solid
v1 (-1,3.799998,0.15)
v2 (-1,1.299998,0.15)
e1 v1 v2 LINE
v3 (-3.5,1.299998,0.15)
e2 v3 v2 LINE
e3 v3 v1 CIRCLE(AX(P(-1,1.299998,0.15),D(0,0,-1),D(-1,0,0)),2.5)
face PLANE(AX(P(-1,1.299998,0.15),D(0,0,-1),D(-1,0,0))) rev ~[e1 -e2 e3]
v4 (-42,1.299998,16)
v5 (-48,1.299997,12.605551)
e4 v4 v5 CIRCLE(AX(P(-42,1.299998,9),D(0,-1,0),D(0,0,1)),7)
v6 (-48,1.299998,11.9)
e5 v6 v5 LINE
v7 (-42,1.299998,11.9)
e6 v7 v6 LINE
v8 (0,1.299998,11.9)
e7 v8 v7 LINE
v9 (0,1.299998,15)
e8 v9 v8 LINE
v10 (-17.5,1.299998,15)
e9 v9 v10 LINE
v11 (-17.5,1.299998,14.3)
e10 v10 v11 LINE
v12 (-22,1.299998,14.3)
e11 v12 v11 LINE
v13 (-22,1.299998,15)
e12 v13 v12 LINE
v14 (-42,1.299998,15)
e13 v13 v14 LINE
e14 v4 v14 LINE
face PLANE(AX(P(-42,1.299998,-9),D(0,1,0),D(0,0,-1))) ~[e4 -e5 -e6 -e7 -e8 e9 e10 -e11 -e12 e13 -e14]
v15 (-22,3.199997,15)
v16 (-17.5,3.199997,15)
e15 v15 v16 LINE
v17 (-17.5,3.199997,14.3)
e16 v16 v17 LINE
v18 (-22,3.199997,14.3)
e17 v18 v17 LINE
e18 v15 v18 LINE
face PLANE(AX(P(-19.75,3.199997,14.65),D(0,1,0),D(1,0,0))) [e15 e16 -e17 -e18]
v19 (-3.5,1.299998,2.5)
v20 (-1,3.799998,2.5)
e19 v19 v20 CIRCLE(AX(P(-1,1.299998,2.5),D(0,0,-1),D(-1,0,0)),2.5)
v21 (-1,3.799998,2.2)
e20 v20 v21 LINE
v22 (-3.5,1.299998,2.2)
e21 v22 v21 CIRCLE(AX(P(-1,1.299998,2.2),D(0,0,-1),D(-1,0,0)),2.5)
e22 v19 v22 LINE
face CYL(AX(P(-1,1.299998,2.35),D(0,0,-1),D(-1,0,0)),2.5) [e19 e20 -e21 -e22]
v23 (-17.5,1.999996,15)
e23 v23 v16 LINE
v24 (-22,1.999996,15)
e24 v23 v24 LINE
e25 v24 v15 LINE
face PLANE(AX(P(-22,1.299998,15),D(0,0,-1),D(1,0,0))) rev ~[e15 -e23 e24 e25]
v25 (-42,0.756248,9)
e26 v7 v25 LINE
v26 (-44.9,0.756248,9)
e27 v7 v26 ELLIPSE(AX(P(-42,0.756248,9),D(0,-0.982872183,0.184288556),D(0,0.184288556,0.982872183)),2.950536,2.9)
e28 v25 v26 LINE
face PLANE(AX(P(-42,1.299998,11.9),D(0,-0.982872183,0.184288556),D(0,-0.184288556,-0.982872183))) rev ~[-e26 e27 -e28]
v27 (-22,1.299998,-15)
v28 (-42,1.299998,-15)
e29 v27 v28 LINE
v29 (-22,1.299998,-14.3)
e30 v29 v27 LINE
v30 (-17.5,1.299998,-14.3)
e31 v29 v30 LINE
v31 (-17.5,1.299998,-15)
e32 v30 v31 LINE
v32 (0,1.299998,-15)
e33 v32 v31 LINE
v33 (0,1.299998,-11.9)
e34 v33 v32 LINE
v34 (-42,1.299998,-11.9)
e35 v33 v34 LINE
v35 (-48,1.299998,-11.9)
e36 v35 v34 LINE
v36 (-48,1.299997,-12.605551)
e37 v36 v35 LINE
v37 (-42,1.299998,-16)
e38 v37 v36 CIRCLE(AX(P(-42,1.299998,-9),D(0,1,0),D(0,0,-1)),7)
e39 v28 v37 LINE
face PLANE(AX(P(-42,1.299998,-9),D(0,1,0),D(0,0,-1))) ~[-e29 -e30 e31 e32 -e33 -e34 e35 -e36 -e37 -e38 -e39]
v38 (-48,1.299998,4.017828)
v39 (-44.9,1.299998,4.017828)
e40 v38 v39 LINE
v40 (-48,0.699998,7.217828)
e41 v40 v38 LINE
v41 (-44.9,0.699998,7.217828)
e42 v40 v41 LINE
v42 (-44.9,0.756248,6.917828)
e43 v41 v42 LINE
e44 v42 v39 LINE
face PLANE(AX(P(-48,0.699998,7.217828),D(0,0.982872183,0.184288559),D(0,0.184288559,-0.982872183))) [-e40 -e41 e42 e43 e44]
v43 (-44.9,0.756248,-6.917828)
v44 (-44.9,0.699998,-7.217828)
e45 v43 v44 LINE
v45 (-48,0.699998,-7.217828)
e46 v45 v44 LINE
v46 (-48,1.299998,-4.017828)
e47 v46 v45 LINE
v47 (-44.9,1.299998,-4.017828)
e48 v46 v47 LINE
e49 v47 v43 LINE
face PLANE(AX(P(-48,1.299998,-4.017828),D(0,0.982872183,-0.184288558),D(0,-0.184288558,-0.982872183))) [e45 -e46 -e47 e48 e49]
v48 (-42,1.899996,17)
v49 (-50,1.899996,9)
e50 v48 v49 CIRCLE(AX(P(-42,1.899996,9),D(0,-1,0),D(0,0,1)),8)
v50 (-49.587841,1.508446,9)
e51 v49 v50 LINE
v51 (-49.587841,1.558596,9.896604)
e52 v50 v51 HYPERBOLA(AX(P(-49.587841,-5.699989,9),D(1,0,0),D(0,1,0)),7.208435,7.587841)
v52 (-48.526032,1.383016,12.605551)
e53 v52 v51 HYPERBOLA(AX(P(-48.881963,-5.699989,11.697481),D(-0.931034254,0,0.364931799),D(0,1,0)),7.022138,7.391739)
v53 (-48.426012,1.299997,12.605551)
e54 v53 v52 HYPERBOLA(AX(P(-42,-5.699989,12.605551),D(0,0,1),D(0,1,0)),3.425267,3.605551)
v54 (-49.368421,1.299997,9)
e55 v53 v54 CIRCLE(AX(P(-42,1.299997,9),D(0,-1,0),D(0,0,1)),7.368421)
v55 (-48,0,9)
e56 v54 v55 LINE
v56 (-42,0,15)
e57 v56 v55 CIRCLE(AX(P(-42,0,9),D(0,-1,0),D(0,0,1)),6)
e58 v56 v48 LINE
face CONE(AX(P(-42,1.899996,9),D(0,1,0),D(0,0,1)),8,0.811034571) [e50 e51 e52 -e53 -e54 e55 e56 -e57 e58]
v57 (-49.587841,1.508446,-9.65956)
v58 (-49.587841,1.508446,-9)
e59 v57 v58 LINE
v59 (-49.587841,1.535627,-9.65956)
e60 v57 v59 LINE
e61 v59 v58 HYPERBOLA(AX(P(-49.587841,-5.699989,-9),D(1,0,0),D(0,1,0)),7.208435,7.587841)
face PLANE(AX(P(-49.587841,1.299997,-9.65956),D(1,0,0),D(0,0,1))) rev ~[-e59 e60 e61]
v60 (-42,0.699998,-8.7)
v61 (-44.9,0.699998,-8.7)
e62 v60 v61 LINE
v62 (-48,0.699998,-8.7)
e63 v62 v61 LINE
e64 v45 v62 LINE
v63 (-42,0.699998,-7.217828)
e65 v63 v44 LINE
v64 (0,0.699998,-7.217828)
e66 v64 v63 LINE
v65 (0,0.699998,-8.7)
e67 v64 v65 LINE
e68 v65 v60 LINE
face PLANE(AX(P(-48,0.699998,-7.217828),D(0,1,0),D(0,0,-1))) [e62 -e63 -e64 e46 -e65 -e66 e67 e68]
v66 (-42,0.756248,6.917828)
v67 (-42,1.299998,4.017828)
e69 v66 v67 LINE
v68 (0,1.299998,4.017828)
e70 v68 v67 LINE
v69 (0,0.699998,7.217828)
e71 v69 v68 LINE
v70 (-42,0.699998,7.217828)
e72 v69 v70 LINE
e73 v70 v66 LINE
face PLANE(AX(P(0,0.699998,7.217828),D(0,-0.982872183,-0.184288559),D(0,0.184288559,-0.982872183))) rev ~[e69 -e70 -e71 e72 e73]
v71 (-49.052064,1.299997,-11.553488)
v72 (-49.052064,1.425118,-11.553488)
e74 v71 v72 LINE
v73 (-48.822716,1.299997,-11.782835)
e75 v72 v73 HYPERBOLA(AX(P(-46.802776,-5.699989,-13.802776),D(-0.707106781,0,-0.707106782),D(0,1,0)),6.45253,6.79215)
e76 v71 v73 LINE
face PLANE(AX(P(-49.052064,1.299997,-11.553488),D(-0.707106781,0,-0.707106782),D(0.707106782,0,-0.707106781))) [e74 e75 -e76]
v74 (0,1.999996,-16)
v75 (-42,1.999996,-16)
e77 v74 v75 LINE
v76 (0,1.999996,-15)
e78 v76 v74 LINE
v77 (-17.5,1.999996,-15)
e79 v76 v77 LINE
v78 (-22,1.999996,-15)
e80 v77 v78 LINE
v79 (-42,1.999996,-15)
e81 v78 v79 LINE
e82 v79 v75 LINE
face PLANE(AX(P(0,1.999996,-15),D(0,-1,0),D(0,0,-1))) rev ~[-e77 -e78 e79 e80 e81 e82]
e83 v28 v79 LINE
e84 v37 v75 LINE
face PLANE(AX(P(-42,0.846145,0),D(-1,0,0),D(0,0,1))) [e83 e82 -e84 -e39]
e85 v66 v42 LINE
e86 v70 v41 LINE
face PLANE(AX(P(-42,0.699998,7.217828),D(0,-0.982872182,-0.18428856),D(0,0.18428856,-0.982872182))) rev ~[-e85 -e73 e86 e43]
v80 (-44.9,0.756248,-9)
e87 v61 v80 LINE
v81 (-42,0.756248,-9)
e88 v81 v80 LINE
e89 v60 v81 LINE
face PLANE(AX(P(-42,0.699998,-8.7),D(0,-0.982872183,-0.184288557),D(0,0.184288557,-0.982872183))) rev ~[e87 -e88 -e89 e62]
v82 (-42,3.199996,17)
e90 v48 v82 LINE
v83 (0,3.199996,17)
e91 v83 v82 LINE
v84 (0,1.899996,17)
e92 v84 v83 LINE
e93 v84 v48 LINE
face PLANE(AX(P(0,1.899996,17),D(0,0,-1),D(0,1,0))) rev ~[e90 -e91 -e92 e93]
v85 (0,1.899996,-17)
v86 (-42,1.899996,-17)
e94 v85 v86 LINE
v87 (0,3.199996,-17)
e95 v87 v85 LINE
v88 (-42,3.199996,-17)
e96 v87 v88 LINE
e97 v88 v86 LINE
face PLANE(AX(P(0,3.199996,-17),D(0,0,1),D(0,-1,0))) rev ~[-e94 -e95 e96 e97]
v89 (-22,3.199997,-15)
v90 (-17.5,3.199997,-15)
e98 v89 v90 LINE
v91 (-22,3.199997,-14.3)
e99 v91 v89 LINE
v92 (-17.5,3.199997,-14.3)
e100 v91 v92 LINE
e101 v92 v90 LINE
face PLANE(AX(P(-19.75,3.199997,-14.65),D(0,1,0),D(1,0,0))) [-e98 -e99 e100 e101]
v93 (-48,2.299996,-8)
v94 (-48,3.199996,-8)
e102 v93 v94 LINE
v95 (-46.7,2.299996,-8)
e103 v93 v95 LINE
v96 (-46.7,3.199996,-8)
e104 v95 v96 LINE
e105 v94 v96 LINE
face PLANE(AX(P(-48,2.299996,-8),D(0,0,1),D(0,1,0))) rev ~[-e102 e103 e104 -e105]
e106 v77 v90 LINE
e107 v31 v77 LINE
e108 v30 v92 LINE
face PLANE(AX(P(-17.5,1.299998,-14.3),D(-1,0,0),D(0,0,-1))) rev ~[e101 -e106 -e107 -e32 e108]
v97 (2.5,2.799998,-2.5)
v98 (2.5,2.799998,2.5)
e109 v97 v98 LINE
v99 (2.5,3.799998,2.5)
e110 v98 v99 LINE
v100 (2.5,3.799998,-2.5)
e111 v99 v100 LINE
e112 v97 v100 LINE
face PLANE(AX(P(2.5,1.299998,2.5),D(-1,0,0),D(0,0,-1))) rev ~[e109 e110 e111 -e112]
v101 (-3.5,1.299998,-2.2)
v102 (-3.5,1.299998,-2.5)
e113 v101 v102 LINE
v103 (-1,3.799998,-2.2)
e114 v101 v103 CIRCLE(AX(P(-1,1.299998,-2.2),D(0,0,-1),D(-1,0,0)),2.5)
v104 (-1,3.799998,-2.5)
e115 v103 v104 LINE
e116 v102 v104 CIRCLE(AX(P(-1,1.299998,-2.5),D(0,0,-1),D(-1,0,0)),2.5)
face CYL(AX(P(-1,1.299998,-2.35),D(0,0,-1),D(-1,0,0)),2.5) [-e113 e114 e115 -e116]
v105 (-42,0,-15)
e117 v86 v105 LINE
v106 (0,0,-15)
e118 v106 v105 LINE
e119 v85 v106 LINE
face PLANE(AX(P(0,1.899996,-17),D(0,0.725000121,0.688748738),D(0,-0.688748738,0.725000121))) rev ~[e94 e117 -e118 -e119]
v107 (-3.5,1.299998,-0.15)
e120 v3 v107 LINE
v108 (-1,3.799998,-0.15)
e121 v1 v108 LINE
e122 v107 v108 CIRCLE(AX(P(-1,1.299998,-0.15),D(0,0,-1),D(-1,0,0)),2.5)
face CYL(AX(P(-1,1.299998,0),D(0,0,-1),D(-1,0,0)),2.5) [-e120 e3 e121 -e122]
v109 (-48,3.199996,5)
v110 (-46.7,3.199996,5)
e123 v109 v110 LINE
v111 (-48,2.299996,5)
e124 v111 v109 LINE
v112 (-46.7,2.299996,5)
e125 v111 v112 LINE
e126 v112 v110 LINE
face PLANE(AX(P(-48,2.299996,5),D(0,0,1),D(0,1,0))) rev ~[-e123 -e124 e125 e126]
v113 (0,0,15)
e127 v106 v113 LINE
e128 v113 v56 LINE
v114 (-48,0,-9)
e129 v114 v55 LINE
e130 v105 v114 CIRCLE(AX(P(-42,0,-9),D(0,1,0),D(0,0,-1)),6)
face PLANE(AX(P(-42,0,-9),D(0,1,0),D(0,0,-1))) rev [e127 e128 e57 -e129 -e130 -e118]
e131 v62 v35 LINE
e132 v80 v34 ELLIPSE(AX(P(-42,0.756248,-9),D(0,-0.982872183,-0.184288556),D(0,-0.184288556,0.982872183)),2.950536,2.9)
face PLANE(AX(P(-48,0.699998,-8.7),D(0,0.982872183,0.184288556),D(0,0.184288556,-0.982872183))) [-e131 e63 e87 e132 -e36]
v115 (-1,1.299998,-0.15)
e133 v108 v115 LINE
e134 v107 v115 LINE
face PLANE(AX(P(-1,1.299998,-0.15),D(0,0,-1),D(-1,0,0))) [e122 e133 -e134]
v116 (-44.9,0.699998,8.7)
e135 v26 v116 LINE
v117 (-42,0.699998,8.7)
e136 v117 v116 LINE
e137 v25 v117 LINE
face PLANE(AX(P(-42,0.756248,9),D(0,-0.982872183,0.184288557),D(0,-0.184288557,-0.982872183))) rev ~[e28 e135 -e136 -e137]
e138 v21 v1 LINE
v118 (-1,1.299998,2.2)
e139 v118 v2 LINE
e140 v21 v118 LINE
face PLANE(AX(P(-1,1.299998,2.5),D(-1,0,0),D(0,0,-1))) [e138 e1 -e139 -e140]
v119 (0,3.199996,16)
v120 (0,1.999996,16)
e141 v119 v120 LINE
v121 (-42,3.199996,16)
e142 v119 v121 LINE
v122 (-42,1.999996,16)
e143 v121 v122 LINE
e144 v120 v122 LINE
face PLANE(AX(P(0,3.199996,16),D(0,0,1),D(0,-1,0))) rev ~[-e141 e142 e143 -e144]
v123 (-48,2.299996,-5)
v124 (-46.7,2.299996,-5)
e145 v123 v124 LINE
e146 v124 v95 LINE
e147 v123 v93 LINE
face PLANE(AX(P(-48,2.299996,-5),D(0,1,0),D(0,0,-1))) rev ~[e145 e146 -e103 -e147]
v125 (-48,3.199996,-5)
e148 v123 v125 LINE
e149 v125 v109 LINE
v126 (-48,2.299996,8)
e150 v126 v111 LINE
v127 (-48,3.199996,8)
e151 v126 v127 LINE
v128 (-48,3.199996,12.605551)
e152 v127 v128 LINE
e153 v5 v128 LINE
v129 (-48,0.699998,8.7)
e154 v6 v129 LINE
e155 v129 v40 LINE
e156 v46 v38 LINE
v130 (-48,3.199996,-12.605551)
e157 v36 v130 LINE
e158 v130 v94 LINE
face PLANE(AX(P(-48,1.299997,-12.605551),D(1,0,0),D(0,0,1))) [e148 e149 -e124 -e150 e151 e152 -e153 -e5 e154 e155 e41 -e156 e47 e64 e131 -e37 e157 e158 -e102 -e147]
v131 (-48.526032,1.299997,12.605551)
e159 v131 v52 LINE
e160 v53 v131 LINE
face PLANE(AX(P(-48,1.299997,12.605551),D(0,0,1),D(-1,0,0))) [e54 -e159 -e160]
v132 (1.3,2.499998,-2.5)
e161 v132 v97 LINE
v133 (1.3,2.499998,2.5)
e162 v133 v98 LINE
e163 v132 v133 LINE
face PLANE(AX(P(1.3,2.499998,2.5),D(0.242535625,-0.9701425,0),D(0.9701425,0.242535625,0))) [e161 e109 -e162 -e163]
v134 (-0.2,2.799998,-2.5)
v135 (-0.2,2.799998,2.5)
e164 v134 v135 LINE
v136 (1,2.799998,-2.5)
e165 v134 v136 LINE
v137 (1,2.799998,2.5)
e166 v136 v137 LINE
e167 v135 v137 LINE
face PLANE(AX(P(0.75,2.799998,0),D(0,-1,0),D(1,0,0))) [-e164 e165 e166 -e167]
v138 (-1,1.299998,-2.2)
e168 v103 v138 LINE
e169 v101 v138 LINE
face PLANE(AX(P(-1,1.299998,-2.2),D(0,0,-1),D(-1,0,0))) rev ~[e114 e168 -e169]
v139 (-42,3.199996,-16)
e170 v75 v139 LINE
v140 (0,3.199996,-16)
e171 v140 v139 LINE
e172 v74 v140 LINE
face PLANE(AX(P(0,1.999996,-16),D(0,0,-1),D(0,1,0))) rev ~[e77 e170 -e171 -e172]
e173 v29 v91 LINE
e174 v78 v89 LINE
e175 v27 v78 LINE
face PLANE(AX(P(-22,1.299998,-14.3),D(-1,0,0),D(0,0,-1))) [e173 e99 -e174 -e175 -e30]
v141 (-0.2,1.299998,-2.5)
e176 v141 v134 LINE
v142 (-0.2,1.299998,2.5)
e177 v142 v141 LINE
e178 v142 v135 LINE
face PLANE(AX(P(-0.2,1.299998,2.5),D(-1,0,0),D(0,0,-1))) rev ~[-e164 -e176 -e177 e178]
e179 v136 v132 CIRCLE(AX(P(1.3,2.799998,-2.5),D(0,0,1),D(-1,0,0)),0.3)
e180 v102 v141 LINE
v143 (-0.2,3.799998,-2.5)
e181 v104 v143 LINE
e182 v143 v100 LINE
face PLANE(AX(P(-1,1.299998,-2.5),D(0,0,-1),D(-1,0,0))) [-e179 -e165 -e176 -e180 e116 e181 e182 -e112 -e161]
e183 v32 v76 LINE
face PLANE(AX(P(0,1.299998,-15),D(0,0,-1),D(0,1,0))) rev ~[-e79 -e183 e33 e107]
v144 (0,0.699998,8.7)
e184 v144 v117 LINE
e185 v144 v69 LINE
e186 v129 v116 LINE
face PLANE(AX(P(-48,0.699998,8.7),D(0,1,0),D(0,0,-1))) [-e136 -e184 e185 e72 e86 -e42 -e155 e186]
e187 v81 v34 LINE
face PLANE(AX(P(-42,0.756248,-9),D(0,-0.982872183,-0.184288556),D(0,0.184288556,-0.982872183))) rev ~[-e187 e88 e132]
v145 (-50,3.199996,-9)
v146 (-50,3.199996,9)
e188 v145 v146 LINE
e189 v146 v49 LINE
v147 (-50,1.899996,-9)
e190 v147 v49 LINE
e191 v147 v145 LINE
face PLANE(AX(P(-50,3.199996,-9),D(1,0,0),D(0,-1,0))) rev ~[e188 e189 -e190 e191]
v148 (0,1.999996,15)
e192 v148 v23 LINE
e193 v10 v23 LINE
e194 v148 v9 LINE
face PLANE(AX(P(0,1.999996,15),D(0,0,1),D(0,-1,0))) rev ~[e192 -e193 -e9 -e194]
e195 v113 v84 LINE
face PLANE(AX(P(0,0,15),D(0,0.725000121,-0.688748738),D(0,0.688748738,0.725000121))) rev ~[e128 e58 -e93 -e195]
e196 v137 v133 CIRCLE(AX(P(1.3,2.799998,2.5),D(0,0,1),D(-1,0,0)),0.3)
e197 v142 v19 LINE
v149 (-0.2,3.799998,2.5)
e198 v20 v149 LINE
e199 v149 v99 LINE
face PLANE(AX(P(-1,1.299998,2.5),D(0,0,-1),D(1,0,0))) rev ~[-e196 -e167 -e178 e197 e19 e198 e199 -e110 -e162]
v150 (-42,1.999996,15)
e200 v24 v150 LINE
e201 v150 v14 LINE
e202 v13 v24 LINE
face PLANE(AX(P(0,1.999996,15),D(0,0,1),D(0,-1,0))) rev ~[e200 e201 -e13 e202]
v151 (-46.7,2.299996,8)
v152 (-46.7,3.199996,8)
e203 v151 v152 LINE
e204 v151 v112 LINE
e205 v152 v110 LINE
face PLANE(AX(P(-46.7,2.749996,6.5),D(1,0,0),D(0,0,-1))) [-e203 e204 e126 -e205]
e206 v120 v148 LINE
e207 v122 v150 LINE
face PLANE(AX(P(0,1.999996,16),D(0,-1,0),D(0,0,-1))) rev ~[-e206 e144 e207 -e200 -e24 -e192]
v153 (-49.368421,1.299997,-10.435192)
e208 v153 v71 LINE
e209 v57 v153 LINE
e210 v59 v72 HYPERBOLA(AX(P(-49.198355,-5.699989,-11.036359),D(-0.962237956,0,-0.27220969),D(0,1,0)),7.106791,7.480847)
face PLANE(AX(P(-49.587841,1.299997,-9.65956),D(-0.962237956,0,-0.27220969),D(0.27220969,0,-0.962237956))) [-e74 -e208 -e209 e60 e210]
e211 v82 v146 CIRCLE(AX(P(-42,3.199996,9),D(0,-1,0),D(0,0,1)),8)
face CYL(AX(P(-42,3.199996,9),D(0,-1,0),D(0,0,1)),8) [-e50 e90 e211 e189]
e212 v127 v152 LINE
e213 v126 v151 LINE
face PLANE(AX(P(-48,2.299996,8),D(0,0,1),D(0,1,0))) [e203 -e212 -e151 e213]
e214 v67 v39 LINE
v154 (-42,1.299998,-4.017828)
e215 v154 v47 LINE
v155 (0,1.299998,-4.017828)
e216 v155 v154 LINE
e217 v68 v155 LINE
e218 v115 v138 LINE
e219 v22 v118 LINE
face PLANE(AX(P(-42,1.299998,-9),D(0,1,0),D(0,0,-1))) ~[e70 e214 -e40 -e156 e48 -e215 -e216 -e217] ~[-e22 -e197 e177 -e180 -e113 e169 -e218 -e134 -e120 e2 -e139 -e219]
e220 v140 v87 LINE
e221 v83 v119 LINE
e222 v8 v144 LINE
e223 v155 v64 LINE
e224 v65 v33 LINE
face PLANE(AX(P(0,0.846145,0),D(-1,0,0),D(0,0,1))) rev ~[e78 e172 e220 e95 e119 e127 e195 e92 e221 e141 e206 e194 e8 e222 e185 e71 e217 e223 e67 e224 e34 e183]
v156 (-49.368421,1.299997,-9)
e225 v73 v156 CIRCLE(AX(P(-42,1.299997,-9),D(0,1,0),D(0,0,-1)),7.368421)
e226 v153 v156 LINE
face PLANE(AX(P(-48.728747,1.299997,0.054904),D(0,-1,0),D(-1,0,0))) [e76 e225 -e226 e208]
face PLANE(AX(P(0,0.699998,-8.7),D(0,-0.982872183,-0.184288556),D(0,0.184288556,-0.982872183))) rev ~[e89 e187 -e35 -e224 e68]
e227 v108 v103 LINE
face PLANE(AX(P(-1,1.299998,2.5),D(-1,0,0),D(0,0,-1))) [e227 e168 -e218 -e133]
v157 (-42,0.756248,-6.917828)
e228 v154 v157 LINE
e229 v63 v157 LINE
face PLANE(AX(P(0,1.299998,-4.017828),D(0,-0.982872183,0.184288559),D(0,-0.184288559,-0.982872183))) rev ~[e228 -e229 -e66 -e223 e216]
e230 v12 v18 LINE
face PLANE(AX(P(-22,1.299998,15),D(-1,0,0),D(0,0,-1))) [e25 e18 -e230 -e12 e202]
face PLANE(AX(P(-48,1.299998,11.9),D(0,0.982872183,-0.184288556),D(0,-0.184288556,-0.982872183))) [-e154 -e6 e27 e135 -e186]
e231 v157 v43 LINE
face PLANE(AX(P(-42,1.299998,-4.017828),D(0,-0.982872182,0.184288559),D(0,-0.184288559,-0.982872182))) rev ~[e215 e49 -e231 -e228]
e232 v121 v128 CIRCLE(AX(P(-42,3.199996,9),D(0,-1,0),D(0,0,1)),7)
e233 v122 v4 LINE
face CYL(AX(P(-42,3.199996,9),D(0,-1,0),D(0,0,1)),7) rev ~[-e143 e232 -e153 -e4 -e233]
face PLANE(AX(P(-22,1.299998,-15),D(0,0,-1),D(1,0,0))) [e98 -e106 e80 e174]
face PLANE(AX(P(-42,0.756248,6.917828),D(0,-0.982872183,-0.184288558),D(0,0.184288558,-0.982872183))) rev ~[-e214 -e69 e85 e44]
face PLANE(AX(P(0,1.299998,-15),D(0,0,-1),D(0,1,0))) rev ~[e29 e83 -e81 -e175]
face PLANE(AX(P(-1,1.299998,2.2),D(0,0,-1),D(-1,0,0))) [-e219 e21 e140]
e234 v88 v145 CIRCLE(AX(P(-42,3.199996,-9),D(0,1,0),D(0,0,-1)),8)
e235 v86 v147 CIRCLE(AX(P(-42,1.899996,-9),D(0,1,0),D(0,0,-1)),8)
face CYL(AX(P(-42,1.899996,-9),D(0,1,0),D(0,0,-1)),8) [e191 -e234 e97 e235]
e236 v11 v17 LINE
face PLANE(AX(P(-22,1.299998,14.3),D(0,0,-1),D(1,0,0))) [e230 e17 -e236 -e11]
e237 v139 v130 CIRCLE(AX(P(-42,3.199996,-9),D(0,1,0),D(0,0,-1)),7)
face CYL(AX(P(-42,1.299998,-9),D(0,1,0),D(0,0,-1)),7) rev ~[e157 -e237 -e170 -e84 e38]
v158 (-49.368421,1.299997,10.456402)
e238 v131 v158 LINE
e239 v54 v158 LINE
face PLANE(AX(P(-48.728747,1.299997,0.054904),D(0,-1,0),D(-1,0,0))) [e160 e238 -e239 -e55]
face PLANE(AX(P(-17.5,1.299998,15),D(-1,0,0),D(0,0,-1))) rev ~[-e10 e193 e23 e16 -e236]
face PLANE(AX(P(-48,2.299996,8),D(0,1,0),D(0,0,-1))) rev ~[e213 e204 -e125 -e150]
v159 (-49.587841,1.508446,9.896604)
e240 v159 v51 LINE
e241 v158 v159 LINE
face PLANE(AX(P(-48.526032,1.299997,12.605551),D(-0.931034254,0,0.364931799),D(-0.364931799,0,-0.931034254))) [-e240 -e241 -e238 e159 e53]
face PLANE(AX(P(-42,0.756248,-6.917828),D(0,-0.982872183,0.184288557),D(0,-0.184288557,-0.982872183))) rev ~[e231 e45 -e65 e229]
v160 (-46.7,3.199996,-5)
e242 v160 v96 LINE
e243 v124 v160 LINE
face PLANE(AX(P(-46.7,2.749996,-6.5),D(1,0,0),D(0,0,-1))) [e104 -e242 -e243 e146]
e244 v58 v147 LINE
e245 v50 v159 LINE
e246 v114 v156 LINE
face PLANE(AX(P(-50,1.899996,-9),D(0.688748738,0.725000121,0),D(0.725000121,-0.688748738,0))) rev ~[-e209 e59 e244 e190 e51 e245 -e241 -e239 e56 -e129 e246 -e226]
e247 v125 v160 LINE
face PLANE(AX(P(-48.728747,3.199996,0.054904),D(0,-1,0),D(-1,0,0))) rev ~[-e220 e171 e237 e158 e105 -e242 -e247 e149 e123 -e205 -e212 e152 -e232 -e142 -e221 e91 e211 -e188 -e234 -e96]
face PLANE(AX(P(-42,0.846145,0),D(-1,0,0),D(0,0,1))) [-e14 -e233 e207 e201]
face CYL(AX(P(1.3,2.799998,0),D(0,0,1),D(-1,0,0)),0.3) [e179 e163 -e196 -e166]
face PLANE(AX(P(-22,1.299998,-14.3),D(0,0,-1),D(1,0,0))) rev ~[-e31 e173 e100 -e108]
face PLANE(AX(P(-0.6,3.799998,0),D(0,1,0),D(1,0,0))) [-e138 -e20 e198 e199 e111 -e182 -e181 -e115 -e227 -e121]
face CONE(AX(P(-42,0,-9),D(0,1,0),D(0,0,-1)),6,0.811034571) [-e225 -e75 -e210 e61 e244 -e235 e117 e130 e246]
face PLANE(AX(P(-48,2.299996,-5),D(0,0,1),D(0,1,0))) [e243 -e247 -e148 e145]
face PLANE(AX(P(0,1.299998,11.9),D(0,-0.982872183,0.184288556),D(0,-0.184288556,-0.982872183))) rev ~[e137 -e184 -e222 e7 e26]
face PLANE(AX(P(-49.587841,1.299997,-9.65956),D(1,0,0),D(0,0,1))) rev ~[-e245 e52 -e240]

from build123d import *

# Parameters (mm, degrees)
BOSS_EXTRUDE1_DEPTH     = 42
SKETCH3_W               = 4.5
SKETCH3_H               = 0.7
BOSS_EXTRUDE2_DEPTH     = 1.899999
SKETCH6_W               = 2.500000024
SKETCH6_H               = 0.3
REVOLVE1_ANGLE          = 90
SKETCH7_W               = 2.7
SKETCH7_H               = 5
BOSS_EXTRUDE3_DEPTH     = 2.50000008
SKETCH9_W               = 3.499999976
SKETCH9_H               = 5
CUT_EXTRUDE1_DEPTH      = 1.50000008
SKETCH10_W              = 0.3
SKETCH10_H              = 5
REVOLVE2_ANGLE          = 90
BOSS_EXTRUDE5_START     = -5
BOSS_EXTRUDE5_DEPTH     = 5
REVOLVE4_ANGLE          = 90
REVOLVE6_ANGLE          = 90
BOSS_EXTRUDE7_DEPTH     = 18
BOSS_EXTRUDE8_DEPTH     = 2.9
CUT_EXTRUDE2_DEPTH      = 2.9
BOSS_EXTRUDE9_START     = -1.899999
BOSS_EXTRUDE9_DEPTH     = 1.899999
SKETCH29_W              = 3
SKETCH29_H              = 0.9
BOSS_EXTRUDE10_DEPTH    = 1.3
CUT_EXTRUDE3_START      = -3.1
CUT_EXTRUDE3_DEPTH      = 3.1
CUT_EXTRUDE4_START      = -44.9
CUT_EXTRUDE4_DEPTH      = 2.9
SKETCH34_W              = 0.799999976
SKETCH34_H              = 5
BOSS_EXTRUDE11_DEPTH    = 2.5
CUT_EXTRUDE5_DEPTH      = 53.947521022
CUT_EXTRUDE5_DEPTH_BACK = 12.7


with BuildPart() as part:
    # Sketch1 → Boss-Extrude1 (new body)
    with BuildSketch(Plane(origin=(0, 0, 0), x_dir=(0, 0, -1), z_dir=(1, 0, 0))):
        Polygon((-4.017828461, 1.2999976), (4.017828461, 1.2999976), (7.217828411, 0.69999753), (8.7, 0.69999753), (11.9, 1.2999976), (15, 1.2999976), (15, 1.9999962), (16, 1.9999962), (16, 3.1999962), (17, 3.1999962), (17, 1.8999962), (15, 0), (-15, 0), (-17, 1.8999962), (-17, 3.1999962), (-16, 3.1999962), (-16, 1.9999962), (-15, 1.9999962), (-15, 1.2999976), (-11.9, 1.2999976), (-8.7, 0.69999753), (-7.217828411, 0.69999753), align=None)
    extrude(amount=-BOSS_EXTRUDE1_DEPTH)

    # Sketch3 → Boss-Extrude2 (add)
    with BuildSketch(Plane(origin=(0, 1.2999976, 0), x_dir=(1, 0, 0), z_dir=(0, 1, 0))):
        with Locations((-19.75, 14.65)):
            Rectangle(SKETCH3_W, SKETCH3_H)
        with Locations((-19.75, -14.65)):
            Rectangle(SKETCH3_W, SKETCH3_H)
    extrude(amount=BOSS_EXTRUDE2_DEPTH)

    # Sketch6 → Revolve1 (revolve)
    with BuildSketch(Plane(origin=(0, 1.2999976, 0), x_dir=(1, 0, 0), z_dir=(0, 1, 0))):
        with Locations((-2.249999988, 2.35)):
            Rectangle(SKETCH6_W, SKETCH6_H)
        with Locations((-2.249999988, 0)):
            Rectangle(SKETCH6_W, SKETCH6_H)
        with Locations((-2.249999988, -2.35)):
            Rectangle(SKETCH6_W, SKETCH6_H)
    revolve(axis=Axis((-0.999999976, 1.2999976, -2.5), (0, 0, -1)), revolution_arc=REVOLVE1_ANGLE)

    # Sketch20 → Revolve4 (revolve)
    with BuildSketch(Plane.ZY.offset(42)):
        Polygon((17, 3.1999962), (17, 1.8999962), (15, 0), (9, 0), (9, 0.756247537), (11.9, 0.756247537), (11.9, 1.2999976), (15, 1.2999976), (16, 1.2999976), (16, 1.9999962), (16, 3.1999962), align=None)
    revolve(axis=Axis((-42, 0, 9), (0, -1, 0)), revolution_arc=REVOLVE4_ANGLE)

    # Sketch22 → Revolve6 (revolve)
    with BuildSketch(Plane.ZY.offset(42)):
        Polygon((-9, 0.756247537), (-9, 0), (-15, 0), (-17, 1.8999962), (-17, 3.1999962), (-16, 3.1999962), (-16, 1.9999962), (-16, 1.2999976), (-15, 1.2999976), (-11.9, 1.2999976), (-11.9, 0.756247537), align=None)
    revolve(axis=Axis((-42, 3.1999962, -9), (0, 1, 0)), revolution_arc=REVOLVE6_ANGLE)

    # Sketch25 → Boss-Extrude7 (add)
    with BuildSketch(Plane.XY.offset(-9)):
        Polygon((-42, 0), (-42, 0.756247537), (-44.9, 0.756247537), (-44.9, 1.2999976), (-49, 1.2999976), (-49, 3.1999962), (-50, 3.1999962), (-50, 1.8999962), (-48, 0), align=None)
    extrude(amount=BOSS_EXTRUDE7_DEPTH)

    # Sketch26 → Boss-Extrude8 (add)
    with BuildSketch(Plane.ZY.offset(42)):
        Polygon((11.9, 0.756247537), (11.9, 1.2999976), (9, 0.756247537), align=None)
        Polygon((6.917828416, 0.756247537), (4.017828461, 1.2999976), (-4.017828461, 1.2999976), (-7.067828413, 0.728122533), align=None)
        Polygon((-9, 0.756247537), (-11.9, 1.2999976), (-11.9, 0.756247537), align=None)
    extrude(amount=BOSS_EXTRUDE8_DEPTH)

    # Sketch27 → Cut-Extrude2 (cut)
    with BuildSketch(Plane(origin=(-42, 0, 0), x_dir=(0, 0, -1), z_dir=(1, 0, 0))):
        Polygon((-8.7, 0.69999753), (-7.217828411, 0.69999753), (-6.917828416, 0.756247537), (-9, 0.756247537), align=None)
        Polygon((8.7, 0.69999753), (9, 0.756247537), (6.917828416, 0.756247537), (7.217828416, 0.69999753), align=None)
    extrude(amount=-CUT_EXTRUDE2_DEPTH, mode=Mode.SUBTRACT)

    # Sketch28 → Boss-Extrude9 (add)
    with BuildSketch(Plane(origin=(0, 3.1999962, 0), x_dir=(1, 0, 0), z_dir=(0, 1, 0)).offset(BOSS_EXTRUDE9_START)):
        Polygon((-48, 12.605551275), (-48, -12.605551275), (-48.526031835, -12.605551275), (-49.587841203, -9.896604303), (-49.587841203, 5.333499325), (-49.587841203, 9.659559889), (-49.052063671, 11.553487605), align=None)
    extrude(amount=BOSS_EXTRUDE9_DEPTH)

    # Sketch29 → Boss-Extrude10 (add)
    with BuildSketch(Plane(origin=(-48, 0, 0), x_dir=(0, 0, -1), z_dir=(1, 0, 0))):
        with Locations((6.5, 2.7499962)):
            Rectangle(SKETCH29_W, SKETCH29_H)
        with Locations((-6.5, 2.7499962)):
            Rectangle(SKETCH29_W, SKETCH29_H)
    extrude(amount=BOSS_EXTRUDE10_DEPTH)

    # Sketch31 → Cut-Extrude3 (cut)
    with BuildSketch(Plane(origin=(-44.9, 0, 0), x_dir=(0, 0, -1), z_dir=(1, 0, 0)).offset(CUT_EXTRUDE3_START)):
        Polygon((-8.7, 0.69999753), (-7.217828411, 0.69999753), (-4.017828461, 1.2999976), (-9, 1.2999976), (-11.9, 1.2999976), align=None)
        Polygon((4.017828461, 1.2999976), (7.217828416, 0.69999753), (8.7, 0.69999753), (11.9, 1.2999976), align=None)
    extrude(amount=CUT_EXTRUDE3_DEPTH, mode=Mode.SUBTRACT)

    # Sketch33 → Cut-Extrude4 (cut)
    with BuildSketch(Plane(origin=(0, 0, 0), x_dir=(0, 0, -1), z_dir=(1, 0, 0)).offset(CUT_EXTRUDE4_START)):
        Polygon((-11.9, 1.2999976), (-4.017828461, 1.2999976), (-7.217828411, 0.69999753), (-8.7, 0.69999753), align=None)
        Polygon((4.017828461, 1.2999976), (11.9, 1.2999976), (8.7, 0.69999753), (7.272372627, 0.69999753), align=None)
    extrude(amount=CUT_EXTRUDE4_DEPTH, mode=Mode.SUBTRACT)



with BuildPart() as body_2:
    # Sketch7 → Boss-Extrude3 (new body)
    with BuildSketch(Plane(origin=(1.692653476, 1.2999976, 1.325896357), x_dir=(1, 0, 0), z_dir=(0, 1, 0))):
        with Locations((-0.542653476, 1.325896357)):
            Rectangle(SKETCH7_W, SKETCH7_H)
    extrude(amount=BOSS_EXTRUDE3_DEPTH)

    # Sketch9 → Cut-Extrude1 (cut)
    with BuildSketch(Plane.XZ.offset(-1.2999976)):
        with Locations((0.750000012, 0)):
            Rectangle(SKETCH9_W, SKETCH9_H)
    extrude(amount=-CUT_EXTRUDE1_DEPTH, mode=Mode.SUBTRACT)

    # Sketch10 → Revolve2 (revolve)
    with BuildSketch(Plane.XZ.offset(-2.79999768)):
        with Locations((1.15, 0)):
            Rectangle(SKETCH10_W, SKETCH10_H)
    revolve(axis=Axis((1.3, 2.79999768, 2.5), (0, 0, 1)), revolution_arc=REVOLVE2_ANGLE)

    # Sketch11 → Boss-Extrude5 (add)
    with BuildSketch(Plane(origin=(0, 0, -2.5), x_dir=(-1, 0, 0), z_dir=(0, 0, -1)).offset(BOSS_EXTRUDE5_START)):
        Polygon((-1.3, 2.49999768), (-2.5, 2.79999768), (-1.3, 2.79999768), align=None)
    extrude(amount=BOSS_EXTRUDE5_DEPTH)


with BuildPart() as part_1:
    add(part.part)

    add(body_2.part)  # Boss-Extrude11 merges body 2
    # Sketch34 → Boss-Extrude11 (add)
    with BuildSketch(Plane(origin=(0, 1.2999976, 0), x_dir=(1, 0, 0), z_dir=(0, 1, 0))):
        with Locations((-0.599999988, 0)):
            Rectangle(SKETCH34_W, SKETCH34_H)
    extrude(amount=BOSS_EXTRUDE11_DEPTH)

    # Sketch36 → Cut-Extrude5 (cut, two sides: drawn at the far end of the back side and taken through both)
    with BuildSketch(Plane.XY.offset(-CUT_EXTRUDE5_DEPTH_BACK)):
        Polygon((-50, 1.8999962), (-48, 0), (-50, 0), align=None)
    extrude(amount=CUT_EXTRUDE5_DEPTH + CUT_EXTRUDE5_DEPTH_BACK, mode=Mode.SUBTRACT)


solid = part_1.part
